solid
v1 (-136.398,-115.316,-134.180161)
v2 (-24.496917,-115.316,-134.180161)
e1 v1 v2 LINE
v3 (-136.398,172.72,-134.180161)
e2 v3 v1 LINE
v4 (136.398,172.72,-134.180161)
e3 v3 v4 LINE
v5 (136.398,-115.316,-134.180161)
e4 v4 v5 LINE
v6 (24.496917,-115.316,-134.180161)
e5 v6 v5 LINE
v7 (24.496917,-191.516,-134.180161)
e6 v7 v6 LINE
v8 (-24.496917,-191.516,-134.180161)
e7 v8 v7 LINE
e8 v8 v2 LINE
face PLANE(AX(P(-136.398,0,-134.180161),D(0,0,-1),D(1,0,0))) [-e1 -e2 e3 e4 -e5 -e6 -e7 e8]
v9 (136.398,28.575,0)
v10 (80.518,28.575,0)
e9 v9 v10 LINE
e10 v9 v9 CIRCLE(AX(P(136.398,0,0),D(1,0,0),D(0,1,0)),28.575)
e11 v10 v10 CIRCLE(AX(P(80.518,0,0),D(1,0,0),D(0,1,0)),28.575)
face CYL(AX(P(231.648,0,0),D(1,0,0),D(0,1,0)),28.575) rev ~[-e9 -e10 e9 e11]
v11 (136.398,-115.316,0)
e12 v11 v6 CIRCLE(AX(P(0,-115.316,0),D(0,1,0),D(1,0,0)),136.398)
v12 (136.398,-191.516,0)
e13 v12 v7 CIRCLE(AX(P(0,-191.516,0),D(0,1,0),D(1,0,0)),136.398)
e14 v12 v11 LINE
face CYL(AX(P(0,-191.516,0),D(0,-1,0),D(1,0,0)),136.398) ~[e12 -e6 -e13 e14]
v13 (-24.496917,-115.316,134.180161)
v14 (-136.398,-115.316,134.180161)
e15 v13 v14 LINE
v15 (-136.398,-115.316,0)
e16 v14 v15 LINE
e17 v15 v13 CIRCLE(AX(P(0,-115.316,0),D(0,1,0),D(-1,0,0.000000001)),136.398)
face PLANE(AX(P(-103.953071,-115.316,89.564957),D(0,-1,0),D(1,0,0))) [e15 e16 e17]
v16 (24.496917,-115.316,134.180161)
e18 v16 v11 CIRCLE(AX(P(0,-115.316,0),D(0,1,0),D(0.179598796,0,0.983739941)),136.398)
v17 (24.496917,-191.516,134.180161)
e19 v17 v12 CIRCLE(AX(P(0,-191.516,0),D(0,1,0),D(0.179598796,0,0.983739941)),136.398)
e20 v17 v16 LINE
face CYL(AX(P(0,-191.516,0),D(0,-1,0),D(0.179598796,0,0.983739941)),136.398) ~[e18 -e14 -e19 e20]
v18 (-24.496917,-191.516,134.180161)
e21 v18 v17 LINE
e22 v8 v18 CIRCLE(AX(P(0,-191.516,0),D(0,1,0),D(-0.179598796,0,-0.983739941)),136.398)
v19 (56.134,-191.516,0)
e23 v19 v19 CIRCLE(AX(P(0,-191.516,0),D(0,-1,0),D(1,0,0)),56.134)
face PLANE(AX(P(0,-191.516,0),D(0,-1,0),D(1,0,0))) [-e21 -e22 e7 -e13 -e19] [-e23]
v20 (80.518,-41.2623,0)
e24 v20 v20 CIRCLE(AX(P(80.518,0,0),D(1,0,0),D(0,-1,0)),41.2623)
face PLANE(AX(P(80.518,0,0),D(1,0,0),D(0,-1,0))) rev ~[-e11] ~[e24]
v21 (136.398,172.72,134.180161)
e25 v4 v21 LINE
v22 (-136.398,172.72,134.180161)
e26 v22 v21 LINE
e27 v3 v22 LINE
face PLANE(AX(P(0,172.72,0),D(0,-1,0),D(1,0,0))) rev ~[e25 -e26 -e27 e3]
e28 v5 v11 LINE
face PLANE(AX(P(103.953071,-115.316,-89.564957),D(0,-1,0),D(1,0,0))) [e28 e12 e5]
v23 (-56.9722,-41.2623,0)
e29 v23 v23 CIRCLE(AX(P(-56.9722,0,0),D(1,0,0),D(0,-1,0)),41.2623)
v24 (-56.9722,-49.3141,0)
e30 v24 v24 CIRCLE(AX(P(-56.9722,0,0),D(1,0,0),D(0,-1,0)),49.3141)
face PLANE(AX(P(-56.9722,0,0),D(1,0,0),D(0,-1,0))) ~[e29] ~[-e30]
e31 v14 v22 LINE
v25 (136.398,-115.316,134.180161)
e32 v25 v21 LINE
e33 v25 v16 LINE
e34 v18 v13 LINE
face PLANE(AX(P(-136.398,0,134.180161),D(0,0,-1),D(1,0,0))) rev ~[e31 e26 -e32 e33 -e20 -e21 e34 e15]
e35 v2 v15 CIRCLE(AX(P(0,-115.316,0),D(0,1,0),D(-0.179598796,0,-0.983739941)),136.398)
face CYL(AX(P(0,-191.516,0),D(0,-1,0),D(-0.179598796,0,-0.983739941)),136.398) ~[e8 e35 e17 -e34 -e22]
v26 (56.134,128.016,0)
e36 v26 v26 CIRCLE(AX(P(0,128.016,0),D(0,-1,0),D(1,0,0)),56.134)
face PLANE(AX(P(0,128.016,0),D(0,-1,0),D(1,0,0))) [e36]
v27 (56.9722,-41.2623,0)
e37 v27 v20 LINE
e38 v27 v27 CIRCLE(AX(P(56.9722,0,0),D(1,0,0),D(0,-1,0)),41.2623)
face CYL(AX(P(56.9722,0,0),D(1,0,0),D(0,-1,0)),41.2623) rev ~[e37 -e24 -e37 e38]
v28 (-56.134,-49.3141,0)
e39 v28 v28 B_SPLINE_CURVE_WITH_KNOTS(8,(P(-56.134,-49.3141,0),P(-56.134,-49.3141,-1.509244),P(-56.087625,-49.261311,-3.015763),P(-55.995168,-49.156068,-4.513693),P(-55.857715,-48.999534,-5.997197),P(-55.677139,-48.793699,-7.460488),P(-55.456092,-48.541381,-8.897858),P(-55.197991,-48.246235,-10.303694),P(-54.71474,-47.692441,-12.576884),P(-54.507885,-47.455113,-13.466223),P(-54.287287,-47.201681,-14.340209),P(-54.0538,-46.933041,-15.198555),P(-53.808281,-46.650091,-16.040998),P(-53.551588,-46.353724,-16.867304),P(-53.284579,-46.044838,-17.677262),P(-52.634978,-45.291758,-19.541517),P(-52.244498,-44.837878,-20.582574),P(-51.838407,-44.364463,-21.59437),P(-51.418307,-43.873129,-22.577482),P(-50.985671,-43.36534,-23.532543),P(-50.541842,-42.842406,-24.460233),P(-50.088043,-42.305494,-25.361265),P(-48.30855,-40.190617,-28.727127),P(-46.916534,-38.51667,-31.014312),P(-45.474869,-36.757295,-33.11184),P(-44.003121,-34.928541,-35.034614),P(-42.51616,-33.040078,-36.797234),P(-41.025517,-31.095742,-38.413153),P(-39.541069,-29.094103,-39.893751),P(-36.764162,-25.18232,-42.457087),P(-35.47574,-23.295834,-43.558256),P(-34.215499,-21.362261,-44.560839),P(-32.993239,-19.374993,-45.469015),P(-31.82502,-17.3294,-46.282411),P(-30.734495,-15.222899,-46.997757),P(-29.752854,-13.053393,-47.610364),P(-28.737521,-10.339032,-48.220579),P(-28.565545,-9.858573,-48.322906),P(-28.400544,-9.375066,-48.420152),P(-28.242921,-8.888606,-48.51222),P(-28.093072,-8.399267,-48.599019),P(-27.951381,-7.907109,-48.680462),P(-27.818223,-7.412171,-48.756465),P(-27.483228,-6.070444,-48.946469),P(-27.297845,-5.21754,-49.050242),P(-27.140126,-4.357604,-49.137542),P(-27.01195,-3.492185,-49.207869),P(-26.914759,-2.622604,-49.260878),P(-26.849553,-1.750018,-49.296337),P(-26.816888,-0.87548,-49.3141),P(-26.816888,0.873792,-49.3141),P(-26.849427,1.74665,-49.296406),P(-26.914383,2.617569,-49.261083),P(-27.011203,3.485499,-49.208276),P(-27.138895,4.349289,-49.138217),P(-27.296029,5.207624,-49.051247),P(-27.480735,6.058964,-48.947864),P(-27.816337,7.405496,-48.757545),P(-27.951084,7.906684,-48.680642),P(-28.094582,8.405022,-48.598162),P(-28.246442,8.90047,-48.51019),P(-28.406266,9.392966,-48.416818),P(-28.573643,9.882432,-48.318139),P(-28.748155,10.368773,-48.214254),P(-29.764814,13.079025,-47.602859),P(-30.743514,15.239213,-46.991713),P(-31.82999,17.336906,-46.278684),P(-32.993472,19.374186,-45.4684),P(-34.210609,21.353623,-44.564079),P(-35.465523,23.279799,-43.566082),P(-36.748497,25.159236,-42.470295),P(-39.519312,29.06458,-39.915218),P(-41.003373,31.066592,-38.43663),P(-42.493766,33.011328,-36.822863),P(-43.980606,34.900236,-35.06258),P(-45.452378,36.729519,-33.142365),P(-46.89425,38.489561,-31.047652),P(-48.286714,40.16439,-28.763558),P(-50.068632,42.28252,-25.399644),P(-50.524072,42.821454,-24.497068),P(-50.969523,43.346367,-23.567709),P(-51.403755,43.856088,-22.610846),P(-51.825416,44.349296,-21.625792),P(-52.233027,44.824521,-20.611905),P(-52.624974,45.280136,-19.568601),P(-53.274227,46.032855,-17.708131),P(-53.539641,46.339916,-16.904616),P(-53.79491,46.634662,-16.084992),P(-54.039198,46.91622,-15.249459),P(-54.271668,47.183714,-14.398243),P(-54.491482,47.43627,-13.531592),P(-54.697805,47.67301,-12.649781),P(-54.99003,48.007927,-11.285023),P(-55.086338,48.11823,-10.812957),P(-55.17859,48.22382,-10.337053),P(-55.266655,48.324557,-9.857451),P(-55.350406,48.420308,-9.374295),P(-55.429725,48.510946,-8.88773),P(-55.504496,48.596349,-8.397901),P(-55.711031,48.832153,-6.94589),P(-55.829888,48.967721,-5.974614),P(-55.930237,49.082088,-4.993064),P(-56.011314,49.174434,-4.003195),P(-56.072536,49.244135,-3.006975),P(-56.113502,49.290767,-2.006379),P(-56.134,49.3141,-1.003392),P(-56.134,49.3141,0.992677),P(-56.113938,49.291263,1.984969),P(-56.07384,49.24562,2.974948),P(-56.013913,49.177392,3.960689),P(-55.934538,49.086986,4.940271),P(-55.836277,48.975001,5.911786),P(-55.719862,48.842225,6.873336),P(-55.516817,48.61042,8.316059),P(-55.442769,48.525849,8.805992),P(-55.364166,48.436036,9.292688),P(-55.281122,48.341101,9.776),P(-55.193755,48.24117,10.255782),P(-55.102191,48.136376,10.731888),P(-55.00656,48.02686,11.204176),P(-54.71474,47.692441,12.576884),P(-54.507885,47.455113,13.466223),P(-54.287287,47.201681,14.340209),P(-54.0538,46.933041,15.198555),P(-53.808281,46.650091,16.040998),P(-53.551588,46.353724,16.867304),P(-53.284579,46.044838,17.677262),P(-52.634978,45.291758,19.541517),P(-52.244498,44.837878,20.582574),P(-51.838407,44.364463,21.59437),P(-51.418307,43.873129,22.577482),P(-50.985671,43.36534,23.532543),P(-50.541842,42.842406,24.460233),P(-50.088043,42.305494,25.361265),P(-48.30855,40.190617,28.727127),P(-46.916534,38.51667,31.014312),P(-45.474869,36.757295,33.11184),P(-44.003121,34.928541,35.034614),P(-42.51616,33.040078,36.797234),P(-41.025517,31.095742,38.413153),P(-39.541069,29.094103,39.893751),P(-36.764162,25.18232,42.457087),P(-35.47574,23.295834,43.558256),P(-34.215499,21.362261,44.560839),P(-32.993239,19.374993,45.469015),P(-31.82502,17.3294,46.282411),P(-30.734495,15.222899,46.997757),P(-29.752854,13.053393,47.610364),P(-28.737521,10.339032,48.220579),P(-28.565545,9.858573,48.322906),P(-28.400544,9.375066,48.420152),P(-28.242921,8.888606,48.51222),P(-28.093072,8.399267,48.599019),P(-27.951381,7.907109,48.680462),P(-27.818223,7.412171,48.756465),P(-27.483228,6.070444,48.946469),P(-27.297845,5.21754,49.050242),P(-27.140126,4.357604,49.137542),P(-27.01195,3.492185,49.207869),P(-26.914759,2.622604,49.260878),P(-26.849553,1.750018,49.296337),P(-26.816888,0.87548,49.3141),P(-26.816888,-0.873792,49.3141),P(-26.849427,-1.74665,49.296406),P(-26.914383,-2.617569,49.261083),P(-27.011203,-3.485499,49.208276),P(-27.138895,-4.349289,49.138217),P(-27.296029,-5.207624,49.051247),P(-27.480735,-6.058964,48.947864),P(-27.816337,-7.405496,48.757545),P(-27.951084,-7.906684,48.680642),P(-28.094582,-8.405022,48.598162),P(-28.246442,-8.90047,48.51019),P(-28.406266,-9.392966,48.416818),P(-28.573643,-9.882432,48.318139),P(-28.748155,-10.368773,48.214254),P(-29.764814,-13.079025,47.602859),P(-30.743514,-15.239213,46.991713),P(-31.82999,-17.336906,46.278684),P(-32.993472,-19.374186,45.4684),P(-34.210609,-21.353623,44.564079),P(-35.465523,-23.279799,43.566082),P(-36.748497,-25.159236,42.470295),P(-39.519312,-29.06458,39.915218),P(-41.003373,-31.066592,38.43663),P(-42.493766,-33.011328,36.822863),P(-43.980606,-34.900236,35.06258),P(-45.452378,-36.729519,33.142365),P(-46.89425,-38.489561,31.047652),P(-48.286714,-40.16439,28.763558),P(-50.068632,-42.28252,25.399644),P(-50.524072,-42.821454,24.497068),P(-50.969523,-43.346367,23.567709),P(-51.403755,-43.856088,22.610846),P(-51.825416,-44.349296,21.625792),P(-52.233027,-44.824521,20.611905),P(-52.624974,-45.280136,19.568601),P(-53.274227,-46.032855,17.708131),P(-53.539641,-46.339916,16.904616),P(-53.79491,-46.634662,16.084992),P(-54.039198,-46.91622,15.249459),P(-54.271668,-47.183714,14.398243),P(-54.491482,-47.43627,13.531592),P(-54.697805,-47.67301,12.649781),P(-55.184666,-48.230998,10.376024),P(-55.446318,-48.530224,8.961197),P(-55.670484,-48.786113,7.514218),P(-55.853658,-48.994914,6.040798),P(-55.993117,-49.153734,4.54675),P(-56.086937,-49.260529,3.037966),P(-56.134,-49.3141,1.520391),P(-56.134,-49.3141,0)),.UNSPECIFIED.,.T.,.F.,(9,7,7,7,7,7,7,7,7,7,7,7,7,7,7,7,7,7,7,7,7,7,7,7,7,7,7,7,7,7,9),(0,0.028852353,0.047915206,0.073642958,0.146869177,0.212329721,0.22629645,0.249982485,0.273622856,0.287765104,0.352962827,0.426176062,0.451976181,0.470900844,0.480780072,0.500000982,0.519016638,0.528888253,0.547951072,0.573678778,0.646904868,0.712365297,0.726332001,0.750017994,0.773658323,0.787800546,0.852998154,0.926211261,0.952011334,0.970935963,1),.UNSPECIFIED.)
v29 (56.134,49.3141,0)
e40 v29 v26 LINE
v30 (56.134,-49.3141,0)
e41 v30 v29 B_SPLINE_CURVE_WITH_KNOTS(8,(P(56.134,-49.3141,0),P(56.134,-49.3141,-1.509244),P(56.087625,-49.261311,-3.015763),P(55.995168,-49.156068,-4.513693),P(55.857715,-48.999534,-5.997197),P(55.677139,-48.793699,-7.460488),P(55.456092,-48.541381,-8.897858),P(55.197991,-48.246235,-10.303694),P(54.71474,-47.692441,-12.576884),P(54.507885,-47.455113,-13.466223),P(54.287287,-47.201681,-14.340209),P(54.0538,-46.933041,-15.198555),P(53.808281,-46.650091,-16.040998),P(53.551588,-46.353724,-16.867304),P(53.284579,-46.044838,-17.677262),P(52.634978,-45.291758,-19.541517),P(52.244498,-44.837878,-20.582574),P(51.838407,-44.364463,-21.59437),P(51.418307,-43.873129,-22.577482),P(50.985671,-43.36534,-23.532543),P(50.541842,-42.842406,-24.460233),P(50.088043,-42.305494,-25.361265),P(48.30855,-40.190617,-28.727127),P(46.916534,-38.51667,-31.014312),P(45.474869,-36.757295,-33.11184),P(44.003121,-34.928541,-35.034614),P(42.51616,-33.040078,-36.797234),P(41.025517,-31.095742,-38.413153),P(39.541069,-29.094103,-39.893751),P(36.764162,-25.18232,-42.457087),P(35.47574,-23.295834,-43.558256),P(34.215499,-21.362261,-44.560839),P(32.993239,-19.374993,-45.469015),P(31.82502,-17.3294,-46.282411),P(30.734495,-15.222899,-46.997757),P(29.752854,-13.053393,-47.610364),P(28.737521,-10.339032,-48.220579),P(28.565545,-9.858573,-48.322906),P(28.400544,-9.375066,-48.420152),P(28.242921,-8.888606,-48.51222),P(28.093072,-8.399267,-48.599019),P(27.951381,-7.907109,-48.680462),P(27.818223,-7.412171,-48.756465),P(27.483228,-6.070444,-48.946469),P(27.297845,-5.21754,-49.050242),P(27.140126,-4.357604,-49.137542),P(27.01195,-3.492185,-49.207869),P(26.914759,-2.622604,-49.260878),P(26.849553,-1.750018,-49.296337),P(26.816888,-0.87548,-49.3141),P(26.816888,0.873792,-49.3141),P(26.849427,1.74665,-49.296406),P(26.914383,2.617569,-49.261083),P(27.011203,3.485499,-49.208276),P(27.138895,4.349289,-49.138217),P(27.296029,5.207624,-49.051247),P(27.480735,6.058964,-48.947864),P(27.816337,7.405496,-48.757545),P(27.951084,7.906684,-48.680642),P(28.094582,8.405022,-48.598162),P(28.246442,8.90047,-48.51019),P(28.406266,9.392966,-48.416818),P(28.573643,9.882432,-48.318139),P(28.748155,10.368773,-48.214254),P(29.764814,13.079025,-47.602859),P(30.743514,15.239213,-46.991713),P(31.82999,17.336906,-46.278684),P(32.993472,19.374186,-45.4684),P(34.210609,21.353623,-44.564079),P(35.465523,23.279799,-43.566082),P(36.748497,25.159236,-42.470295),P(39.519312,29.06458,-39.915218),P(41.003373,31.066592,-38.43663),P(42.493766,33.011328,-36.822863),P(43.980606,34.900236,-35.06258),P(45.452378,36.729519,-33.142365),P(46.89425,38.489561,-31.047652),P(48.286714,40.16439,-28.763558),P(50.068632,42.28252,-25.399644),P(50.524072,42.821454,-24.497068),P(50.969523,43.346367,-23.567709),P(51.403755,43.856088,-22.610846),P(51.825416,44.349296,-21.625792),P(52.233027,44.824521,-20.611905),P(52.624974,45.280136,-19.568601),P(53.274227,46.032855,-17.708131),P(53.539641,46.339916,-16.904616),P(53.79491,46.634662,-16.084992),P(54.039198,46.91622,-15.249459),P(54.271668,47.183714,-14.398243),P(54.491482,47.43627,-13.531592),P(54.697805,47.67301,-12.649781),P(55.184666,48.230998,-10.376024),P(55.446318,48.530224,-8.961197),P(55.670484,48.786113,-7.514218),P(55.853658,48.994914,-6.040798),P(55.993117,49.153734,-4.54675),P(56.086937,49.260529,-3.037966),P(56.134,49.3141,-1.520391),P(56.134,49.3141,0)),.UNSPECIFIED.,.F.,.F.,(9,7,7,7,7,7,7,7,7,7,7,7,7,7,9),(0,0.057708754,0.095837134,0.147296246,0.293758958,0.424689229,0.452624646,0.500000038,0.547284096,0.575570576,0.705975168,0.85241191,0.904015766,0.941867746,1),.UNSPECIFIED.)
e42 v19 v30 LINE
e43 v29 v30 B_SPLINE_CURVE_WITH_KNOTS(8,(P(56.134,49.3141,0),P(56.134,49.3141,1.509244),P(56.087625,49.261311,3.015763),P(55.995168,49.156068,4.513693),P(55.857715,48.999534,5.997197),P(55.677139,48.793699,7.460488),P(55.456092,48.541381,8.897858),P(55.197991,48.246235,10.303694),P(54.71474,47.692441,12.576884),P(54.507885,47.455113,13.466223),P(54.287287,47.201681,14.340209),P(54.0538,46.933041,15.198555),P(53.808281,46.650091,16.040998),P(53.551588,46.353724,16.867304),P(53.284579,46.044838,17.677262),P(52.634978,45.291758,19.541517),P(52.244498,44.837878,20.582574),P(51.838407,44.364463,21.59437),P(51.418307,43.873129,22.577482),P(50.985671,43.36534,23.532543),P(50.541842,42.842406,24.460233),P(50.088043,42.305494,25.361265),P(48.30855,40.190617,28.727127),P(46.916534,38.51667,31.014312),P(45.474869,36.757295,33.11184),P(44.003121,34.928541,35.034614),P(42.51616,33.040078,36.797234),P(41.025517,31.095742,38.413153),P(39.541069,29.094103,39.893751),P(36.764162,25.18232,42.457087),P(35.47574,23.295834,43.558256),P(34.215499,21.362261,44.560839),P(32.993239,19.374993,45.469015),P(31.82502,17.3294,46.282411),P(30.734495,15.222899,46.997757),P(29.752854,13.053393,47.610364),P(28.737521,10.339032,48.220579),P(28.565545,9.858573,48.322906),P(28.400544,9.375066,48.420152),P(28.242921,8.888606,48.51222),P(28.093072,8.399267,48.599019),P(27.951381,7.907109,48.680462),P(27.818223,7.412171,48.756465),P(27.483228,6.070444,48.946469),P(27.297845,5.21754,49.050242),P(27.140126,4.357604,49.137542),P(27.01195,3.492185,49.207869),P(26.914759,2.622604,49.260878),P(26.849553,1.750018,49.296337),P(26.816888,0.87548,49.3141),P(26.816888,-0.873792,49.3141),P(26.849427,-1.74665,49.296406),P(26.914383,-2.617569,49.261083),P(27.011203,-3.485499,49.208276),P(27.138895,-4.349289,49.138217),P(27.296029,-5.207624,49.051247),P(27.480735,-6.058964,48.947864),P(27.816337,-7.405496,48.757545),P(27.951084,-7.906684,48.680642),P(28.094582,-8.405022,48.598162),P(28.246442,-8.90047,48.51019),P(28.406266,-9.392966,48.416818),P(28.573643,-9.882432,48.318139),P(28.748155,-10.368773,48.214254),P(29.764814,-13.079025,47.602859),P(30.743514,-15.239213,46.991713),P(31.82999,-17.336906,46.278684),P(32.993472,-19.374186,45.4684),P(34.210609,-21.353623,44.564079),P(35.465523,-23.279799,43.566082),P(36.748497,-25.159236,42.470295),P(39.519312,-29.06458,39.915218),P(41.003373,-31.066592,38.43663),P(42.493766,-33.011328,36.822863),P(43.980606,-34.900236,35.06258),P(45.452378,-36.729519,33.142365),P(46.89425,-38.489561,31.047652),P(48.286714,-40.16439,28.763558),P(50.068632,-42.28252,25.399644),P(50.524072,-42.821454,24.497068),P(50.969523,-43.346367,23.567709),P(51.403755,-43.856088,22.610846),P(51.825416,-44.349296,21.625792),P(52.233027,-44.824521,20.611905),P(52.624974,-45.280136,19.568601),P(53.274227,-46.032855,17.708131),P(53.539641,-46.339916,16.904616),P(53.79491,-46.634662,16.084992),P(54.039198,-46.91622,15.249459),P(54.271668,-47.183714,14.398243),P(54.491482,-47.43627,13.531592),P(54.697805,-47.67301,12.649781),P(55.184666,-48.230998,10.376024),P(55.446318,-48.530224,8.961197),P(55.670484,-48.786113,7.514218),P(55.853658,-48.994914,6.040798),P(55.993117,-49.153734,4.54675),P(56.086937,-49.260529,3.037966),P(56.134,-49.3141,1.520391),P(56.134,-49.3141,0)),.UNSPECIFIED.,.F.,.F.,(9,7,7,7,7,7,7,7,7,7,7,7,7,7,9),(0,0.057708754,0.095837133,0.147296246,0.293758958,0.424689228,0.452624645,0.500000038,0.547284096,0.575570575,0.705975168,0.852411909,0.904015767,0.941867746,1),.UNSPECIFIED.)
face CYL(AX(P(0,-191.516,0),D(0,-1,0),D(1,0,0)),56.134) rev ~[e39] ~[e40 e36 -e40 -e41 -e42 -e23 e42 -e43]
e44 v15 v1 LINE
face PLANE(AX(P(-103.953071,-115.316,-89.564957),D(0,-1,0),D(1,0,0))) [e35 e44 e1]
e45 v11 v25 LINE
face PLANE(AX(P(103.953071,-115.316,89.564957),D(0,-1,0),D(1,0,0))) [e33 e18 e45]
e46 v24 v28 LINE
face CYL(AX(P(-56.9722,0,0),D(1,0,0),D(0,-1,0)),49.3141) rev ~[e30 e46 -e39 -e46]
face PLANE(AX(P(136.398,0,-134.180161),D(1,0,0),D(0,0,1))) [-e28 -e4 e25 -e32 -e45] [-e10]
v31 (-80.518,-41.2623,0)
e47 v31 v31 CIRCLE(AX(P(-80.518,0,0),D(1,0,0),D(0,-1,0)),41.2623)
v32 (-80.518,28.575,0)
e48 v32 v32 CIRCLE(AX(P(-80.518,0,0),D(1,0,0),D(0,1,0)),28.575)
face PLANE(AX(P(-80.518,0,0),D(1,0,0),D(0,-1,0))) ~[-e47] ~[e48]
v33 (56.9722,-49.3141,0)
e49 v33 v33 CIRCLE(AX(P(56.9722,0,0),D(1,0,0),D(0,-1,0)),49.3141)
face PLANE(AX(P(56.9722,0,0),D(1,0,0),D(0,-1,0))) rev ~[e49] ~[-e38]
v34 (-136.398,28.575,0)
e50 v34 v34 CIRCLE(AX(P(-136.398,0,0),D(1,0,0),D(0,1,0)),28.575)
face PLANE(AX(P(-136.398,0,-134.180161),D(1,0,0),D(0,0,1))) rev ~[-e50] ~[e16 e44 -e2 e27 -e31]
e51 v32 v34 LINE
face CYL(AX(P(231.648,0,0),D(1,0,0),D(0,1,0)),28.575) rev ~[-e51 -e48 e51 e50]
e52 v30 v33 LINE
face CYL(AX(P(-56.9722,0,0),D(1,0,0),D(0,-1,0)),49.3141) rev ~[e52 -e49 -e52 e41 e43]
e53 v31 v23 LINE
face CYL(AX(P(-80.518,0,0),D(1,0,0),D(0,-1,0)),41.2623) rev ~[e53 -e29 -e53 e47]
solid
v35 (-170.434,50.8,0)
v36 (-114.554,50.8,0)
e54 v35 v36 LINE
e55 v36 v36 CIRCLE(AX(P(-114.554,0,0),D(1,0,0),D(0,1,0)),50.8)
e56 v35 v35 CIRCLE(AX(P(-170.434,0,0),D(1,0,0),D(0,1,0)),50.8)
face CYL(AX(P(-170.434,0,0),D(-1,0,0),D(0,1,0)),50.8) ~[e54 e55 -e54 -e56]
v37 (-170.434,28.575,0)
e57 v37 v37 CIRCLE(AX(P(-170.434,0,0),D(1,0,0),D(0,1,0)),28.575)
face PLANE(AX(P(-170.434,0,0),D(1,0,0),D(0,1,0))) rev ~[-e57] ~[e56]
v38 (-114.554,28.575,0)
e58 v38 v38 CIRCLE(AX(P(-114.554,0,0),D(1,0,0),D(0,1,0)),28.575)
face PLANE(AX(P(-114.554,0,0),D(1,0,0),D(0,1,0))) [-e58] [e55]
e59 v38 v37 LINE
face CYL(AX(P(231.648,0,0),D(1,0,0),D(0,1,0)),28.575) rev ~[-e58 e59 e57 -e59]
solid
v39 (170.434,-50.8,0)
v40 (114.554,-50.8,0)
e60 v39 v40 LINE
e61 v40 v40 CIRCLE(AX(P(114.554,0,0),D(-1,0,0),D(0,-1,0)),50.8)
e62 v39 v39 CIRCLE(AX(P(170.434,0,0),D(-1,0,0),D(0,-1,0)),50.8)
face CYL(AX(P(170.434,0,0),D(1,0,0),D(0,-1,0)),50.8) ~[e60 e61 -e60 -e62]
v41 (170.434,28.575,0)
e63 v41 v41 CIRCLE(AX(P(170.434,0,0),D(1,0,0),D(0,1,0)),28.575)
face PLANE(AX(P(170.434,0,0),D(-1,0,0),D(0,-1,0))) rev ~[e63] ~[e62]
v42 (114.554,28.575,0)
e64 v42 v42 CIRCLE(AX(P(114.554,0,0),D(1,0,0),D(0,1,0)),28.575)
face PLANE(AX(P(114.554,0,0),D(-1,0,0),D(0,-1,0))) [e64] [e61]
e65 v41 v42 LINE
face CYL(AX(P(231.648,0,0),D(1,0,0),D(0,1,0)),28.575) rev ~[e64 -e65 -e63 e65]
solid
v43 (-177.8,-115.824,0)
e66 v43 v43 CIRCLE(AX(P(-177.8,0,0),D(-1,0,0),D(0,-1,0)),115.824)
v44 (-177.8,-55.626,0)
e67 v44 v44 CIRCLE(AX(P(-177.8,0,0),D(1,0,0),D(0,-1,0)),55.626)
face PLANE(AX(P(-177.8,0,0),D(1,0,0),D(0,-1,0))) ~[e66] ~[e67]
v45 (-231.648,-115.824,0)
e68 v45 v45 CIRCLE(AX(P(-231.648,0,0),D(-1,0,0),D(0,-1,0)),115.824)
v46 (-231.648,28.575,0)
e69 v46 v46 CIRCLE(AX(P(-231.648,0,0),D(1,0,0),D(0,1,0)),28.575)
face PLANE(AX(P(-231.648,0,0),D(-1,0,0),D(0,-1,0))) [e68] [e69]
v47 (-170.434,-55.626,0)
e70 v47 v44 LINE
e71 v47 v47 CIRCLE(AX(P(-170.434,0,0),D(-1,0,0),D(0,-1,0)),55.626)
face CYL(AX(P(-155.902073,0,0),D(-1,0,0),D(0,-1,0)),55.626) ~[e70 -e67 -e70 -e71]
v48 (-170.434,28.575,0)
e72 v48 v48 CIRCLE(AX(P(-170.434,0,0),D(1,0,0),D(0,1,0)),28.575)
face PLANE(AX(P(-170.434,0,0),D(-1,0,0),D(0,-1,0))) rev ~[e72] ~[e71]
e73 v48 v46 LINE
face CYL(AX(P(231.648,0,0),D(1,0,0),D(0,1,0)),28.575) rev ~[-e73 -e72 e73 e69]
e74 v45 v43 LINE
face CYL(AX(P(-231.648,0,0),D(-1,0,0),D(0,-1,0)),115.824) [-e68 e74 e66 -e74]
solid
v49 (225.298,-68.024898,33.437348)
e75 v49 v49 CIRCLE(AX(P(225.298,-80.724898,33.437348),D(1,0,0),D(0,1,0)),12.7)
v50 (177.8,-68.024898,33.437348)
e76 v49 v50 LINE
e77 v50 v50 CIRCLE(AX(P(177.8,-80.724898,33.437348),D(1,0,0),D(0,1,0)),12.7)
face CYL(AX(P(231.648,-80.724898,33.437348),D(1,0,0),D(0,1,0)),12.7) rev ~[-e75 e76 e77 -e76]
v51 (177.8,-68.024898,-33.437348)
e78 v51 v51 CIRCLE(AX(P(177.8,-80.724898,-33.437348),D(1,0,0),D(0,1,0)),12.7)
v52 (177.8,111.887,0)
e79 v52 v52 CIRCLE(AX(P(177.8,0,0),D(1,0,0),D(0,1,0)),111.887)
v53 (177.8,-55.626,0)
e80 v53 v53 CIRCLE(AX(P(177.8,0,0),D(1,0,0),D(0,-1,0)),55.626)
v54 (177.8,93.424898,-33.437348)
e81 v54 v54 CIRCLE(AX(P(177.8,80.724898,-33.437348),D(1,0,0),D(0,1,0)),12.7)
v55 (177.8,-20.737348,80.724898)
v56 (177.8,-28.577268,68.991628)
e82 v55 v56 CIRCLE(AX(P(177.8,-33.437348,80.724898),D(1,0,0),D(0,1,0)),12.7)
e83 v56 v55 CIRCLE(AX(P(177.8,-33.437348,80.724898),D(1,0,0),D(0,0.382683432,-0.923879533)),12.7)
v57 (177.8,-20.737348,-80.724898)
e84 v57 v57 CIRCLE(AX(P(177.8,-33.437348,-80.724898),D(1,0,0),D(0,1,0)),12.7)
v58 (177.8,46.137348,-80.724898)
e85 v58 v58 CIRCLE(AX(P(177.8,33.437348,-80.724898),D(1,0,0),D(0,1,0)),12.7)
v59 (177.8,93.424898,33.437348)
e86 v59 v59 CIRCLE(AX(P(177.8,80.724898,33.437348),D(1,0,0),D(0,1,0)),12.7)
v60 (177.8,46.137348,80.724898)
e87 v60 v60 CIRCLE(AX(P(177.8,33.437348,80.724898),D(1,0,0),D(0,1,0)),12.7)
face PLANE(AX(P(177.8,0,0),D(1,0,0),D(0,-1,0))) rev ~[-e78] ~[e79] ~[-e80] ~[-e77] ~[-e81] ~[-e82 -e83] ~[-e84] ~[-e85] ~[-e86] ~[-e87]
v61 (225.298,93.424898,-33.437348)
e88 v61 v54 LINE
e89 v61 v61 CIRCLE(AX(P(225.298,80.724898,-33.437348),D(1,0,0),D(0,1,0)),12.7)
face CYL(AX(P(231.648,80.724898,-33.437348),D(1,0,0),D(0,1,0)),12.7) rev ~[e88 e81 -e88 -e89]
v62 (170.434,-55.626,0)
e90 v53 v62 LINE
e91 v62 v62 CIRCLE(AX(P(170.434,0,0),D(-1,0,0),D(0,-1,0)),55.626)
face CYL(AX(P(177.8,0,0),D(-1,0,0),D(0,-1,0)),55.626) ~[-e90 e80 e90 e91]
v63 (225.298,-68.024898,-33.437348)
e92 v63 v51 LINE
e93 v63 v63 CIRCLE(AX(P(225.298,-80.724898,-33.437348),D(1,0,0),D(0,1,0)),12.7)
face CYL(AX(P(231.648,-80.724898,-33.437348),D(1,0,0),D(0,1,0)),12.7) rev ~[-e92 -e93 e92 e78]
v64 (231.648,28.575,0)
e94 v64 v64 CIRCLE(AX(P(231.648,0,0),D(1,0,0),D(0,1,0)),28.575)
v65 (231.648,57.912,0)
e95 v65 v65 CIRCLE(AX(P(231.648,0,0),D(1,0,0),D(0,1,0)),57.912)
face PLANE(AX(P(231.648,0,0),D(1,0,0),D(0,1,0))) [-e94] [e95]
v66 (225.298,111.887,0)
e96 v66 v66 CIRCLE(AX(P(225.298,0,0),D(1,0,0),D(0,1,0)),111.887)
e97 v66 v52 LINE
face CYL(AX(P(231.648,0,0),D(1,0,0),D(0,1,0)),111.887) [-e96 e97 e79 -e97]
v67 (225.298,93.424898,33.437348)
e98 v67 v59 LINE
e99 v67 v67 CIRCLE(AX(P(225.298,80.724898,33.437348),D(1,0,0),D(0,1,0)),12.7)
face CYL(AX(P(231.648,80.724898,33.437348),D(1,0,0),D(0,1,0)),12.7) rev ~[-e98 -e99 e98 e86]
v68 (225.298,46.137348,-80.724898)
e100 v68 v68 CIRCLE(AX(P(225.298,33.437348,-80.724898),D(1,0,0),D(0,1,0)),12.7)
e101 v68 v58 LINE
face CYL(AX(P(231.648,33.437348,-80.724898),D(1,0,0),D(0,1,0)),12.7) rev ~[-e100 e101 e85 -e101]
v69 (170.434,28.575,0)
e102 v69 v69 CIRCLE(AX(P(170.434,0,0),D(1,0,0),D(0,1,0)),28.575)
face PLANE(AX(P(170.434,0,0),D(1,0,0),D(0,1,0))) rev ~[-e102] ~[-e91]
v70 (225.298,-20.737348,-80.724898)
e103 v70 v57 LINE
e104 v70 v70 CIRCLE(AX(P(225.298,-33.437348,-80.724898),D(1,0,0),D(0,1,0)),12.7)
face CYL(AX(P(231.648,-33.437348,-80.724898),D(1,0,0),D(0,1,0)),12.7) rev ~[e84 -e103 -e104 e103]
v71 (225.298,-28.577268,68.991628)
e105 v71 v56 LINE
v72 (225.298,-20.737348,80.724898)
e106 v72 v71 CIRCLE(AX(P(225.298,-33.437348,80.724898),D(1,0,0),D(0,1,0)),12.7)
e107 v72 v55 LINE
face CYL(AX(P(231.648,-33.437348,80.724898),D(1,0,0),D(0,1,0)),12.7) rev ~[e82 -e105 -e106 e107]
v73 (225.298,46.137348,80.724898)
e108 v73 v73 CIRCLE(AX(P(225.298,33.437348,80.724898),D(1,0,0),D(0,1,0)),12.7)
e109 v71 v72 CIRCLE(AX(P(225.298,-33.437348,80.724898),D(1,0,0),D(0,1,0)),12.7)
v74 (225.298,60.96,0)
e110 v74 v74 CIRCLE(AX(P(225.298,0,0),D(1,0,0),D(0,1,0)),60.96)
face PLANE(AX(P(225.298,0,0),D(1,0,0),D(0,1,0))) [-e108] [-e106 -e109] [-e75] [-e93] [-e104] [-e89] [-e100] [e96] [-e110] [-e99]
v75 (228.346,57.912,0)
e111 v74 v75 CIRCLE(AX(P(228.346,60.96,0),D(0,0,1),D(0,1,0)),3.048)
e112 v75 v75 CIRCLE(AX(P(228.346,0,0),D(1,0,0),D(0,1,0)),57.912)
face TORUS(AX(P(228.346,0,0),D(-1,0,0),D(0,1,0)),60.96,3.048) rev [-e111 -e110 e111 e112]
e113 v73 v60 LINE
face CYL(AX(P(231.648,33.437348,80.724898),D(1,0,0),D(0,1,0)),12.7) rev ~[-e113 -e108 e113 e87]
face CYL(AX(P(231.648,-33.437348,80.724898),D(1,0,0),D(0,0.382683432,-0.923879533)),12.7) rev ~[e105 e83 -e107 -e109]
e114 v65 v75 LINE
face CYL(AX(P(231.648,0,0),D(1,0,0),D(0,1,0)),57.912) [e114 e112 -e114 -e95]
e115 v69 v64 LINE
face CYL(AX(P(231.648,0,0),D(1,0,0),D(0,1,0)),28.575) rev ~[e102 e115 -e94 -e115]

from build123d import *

# Parameters (mm, degrees)
F0_W      = 272.796
F0_H      = 268.3603210601
F1_DEPTH  = 191.516
F2_DEPTH  = 172.72
F4_R      = 115.824
F5_DEPTH  = 61.214
F6_R      = 50.8
F7_DEPTH  = 55.88
F9_COUNT  = 2
F10_R     = 28.575
F11_DEPTH = 701.04
F12_R     = 56.134
F13_DEPTH = 319.532
F15_DEPTH = 76.2
F16_R     = 115.824
F16_R_2   = 111.887
F17_DEPTH = 63.5
F18_R     = 12.7
F19_DEPTH = 90.678
F20_R     = 111.887
F20_R_2   = 12.7
F20_R_3   = 57.912
F20_R_4   = 28.575
F21_DEPTH = 6.35
F22_R     = 3.048


with BuildPart() as f1:
    # F0 (on Front) → F1 (new body)
    with BuildSketch(Plane.XZ):
        Rectangle(F0_W, F0_H)
    extrude(amount=F1_DEPTH)

    # F2 (add): a face of the model
    f2_faces = [f1.faces().sort_by_distance(p)[0] for p in [
        (0, 0, 0),
    ]]
    extrude(f2_faces, amount=F2_DEPTH)


with BuildPart() as f5:
    # F4 (on offset) → F5 (new body)
    with BuildSketch(Plane.YZ.offset(231.648)):
        Circle(F4_R)
    extrude(amount=-F5_DEPTH)


with BuildPart() as f7:
    # F6 (on face) → F7 (new body)
    with BuildSketch(Plane(origin=(170.434, 0, 0), x_dir=(0, -1, 0), z_dir=(-1, 0, 0))):
        Circle(F6_R)
    extrude(amount=F7_DEPTH)


with BuildPart() as f9_1:
    # F9: instance of F7
    add(f7.part.rotate(Axis((0, 0, 105.2917167544), (0, 0, 1)), 1 * 360 / F9_COUNT))


with BuildPart() as f9_2:
    # F9: instance of F5
    add(f5.part.rotate(Axis((0, 0, 105.2917167544), (0, 0, 1)), 1 * 360 / F9_COUNT))


with BuildPart() as f11_tool:
    # F10 (on face) → F11 (new body)
    with BuildSketch(Plane.YZ.offset(231.648)):
        Circle(F10_R)
    extrude(amount=-F11_DEPTH)


with BuildPart() as f1_1:
    add(f1.part)

    # F11: cut by f11_tool
    add(f11_tool.part, mode=Mode.SUBTRACT)

    # F12 (on face) → F13 (cut)
    with BuildSketch(Plane.XZ.offset(191.516)):
        Circle(F12_R)
    extrude(amount=-F13_DEPTH, mode=Mode.SUBTRACT)

    # F14 (on face) → F15 (cut)
    with BuildSketch(Plane.XZ.offset(191.516)):
        with BuildLine():
            ThreePointArc((-136.398, 1.595e-07), (-104.751479265, 87.3586973105), (-24.496916625, 134.18016053))
            Line((-24.496916625, 134.18016053), (-136.398, 134.18016053))
            Line((-136.398, 134.18016053), (-136.398, 1.595e-07))
        make_face()
        with BuildLine():
            ThreePointArc((24.496916625, 134.18016053), (104.7514793161, 87.3586972493), (136.398, 0))
            Line((136.398, 0), (136.398, 134.18016053))
            Line((136.398, 134.18016053), (24.496916625, 134.18016053))
        make_face()
        with BuildLine():
            Line((136.398, -134.18016053), (136.398, 0))
            ThreePointArc((136.398, 0), (104.7514793161, -87.3586972493), (24.496916625, -134.18016053))
            Line((24.496916625, -134.18016053), (136.398, -134.18016053))
        make_face()
        with BuildLine():
            Line((-136.398, -134.18016053), (-24.496916625, -134.18016053))
            ThreePointArc((-24.496916625, -134.18016053), (-104.7514793671, -87.3586971881), (-136.398, 1.595e-07))
            Line((-136.398, 1.595e-07), (-136.398, -134.18016053))
        make_face()
    extrude(amount=-F15_DEPTH, mode=Mode.SUBTRACT)


with BuildPart() as f5_1:
    add(f5.part)

    # F11: cut by f11_tool
    add(f11_tool.part, mode=Mode.SUBTRACT)

    # F16 (on face) → F17 (cut)
    with BuildSketch(Plane.YZ.offset(231.648)):
        Circle(F16_R)
        Circle(F16_R_2, mode=Mode.SUBTRACT)
    extrude(amount=-F17_DEPTH, mode=Mode.SUBTRACT)

    # F18 (on face) → F19 (cut)
    with BuildSketch(Plane.YZ.offset(231.648)):
        with BuildLine():
            ThreePointArc((-28.5772679953, 68.9916279698), (-22.8776835101, 73.6691560734), (-20.7373475863, 80.7248980327))
            ThreePointArc((-20.7373475863, 80.7248980327), (-43.9970116626, 87.7806399921), (-28.5772679953, 68.9916279698))
        make_face()
        with Locations((-80.7248980327, 33.4373475863)):
            Circle(F18_R)
        with Locations((-80.7248980327, -33.4373475863)):
            Circle(F18_R)
        with Locations((-33.4373475863, -80.7248980327)):
            Circle(F18_R)
        with Locations((33.4373475863, -80.7248980327)):
            Circle(F18_R)
        with Locations((80.7248980327, -33.4373475863)):
            Circle(F18_R)
        with Locations((80.7248980327, 33.4373475863)):
            Circle(F18_R)
        with Locations((33.4373475863, 80.7248980327)):
            Circle(F18_R)
    extrude(amount=-F19_DEPTH, mode=Mode.SUBTRACT)

    # F20 (on face) → F21 (cut)
    with BuildSketch(Plane.YZ.offset(231.648)):
        Circle(F20_R)
        with Locations((-33.4373475863, -80.7248980327)):
            Circle(F20_R_2, mode=Mode.SUBTRACT)
        with Locations((-80.7248980327, -33.4373475863)):
            Circle(F20_R_2, mode=Mode.SUBTRACT)
        with Locations((33.4373475863, -80.7248980327)):
            Circle(F20_R_2, mode=Mode.SUBTRACT)
        with Locations((80.7248980327, -33.4373475863)):
            Circle(F20_R_2, mode=Mode.SUBTRACT)
        with Locations((-80.7248980327, 33.4373475863)):
            Circle(F20_R_2, mode=Mode.SUBTRACT)
        with Locations((-33.4373475863, 80.7248980327)):
            Circle(F20_R_2, mode=Mode.SUBTRACT)
        Circle(F20_R_3, mode=Mode.SUBTRACT)
        with Locations((80.7248980327, 33.4373475863)):
            Circle(F20_R_2, mode=Mode.SUBTRACT)
        with Locations((33.4373475863, 80.7248980327)):
            Circle(F20_R_2, mode=Mode.SUBTRACT)
        Circle(F20_R_4)
    extrude(amount=-F21_DEPTH, mode=Mode.SUBTRACT)

    # F22
    f22_edges = [f5_1.edges().sort_by_distance(p)[0] for p in [
        (225.298, -57.912, 0),
    ]]
    fillet(f22_edges, radius=F22_R)


with BuildPart() as f7_1:
    add(f7.part)

    # F11: cut by f11_tool
    add(f11_tool.part, mode=Mode.SUBTRACT)


with BuildPart() as f9_1_1:
    add(f9_1.part)

    # F11: cut by f11_tool
    add(f11_tool.part, mode=Mode.SUBTRACT)


with BuildPart() as f9_2_1:
    add(f9_2.part)

    # F11: cut by f11_tool
    add(f11_tool.part, mode=Mode.SUBTRACT)


with BuildPart() as f24_tool:
    # F23 (on Top) → F24 (revolve)
    with BuildSketch(Plane.XY):
        Polygon((326.083863376, 0), (0, 0), (-326.083863376, 0), (-329.5660510919, -26.162), (-80.518, -26.162), (-80.518, -41.2623), (-56.9722, -41.2623), (-56.9722, -49.3141), (-34.2025496066, -49.3141), (34.2025496066, -49.3141), (56.9722, -49.3141), (56.9722, -41.2623), (80.518, -41.2623), (80.518, -26.162), (329.5660510919, -26.162), align=None)
        Polygon((155.9020730734, -118.535913527), (177.8, -118.9570277929), (177.8, -55.626), (155.9020730734, -55.626), align=None)
        Polygon((-177.8, -118.9570277929), (-155.9020730734, -118.535913527), (-155.9020730734, -55.626), (-177.8, -55.626), align=None)
    revolve(axis=Axis((163.041931688, 0, 0), (1, 0, 0)))


with BuildPart() as f1_2:
    add(f1_1.part)

    # F24: cut by f24_tool
    add(f24_tool.part, mode=Mode.SUBTRACT)


with BuildPart() as f5_2:
    add(f5_1.part)

    # F24: cut by f24_tool
    add(f24_tool.part, mode=Mode.SUBTRACT)


with BuildPart() as f9_2_2:
    add(f9_2_1.part)

    # F24: cut by f24_tool
    add(f24_tool.part, mode=Mode.SUBTRACT)


solid = Compound([f7_1.part, f9_1_1.part, f1_2.part, f5_2.part, f9_2_2.part])
